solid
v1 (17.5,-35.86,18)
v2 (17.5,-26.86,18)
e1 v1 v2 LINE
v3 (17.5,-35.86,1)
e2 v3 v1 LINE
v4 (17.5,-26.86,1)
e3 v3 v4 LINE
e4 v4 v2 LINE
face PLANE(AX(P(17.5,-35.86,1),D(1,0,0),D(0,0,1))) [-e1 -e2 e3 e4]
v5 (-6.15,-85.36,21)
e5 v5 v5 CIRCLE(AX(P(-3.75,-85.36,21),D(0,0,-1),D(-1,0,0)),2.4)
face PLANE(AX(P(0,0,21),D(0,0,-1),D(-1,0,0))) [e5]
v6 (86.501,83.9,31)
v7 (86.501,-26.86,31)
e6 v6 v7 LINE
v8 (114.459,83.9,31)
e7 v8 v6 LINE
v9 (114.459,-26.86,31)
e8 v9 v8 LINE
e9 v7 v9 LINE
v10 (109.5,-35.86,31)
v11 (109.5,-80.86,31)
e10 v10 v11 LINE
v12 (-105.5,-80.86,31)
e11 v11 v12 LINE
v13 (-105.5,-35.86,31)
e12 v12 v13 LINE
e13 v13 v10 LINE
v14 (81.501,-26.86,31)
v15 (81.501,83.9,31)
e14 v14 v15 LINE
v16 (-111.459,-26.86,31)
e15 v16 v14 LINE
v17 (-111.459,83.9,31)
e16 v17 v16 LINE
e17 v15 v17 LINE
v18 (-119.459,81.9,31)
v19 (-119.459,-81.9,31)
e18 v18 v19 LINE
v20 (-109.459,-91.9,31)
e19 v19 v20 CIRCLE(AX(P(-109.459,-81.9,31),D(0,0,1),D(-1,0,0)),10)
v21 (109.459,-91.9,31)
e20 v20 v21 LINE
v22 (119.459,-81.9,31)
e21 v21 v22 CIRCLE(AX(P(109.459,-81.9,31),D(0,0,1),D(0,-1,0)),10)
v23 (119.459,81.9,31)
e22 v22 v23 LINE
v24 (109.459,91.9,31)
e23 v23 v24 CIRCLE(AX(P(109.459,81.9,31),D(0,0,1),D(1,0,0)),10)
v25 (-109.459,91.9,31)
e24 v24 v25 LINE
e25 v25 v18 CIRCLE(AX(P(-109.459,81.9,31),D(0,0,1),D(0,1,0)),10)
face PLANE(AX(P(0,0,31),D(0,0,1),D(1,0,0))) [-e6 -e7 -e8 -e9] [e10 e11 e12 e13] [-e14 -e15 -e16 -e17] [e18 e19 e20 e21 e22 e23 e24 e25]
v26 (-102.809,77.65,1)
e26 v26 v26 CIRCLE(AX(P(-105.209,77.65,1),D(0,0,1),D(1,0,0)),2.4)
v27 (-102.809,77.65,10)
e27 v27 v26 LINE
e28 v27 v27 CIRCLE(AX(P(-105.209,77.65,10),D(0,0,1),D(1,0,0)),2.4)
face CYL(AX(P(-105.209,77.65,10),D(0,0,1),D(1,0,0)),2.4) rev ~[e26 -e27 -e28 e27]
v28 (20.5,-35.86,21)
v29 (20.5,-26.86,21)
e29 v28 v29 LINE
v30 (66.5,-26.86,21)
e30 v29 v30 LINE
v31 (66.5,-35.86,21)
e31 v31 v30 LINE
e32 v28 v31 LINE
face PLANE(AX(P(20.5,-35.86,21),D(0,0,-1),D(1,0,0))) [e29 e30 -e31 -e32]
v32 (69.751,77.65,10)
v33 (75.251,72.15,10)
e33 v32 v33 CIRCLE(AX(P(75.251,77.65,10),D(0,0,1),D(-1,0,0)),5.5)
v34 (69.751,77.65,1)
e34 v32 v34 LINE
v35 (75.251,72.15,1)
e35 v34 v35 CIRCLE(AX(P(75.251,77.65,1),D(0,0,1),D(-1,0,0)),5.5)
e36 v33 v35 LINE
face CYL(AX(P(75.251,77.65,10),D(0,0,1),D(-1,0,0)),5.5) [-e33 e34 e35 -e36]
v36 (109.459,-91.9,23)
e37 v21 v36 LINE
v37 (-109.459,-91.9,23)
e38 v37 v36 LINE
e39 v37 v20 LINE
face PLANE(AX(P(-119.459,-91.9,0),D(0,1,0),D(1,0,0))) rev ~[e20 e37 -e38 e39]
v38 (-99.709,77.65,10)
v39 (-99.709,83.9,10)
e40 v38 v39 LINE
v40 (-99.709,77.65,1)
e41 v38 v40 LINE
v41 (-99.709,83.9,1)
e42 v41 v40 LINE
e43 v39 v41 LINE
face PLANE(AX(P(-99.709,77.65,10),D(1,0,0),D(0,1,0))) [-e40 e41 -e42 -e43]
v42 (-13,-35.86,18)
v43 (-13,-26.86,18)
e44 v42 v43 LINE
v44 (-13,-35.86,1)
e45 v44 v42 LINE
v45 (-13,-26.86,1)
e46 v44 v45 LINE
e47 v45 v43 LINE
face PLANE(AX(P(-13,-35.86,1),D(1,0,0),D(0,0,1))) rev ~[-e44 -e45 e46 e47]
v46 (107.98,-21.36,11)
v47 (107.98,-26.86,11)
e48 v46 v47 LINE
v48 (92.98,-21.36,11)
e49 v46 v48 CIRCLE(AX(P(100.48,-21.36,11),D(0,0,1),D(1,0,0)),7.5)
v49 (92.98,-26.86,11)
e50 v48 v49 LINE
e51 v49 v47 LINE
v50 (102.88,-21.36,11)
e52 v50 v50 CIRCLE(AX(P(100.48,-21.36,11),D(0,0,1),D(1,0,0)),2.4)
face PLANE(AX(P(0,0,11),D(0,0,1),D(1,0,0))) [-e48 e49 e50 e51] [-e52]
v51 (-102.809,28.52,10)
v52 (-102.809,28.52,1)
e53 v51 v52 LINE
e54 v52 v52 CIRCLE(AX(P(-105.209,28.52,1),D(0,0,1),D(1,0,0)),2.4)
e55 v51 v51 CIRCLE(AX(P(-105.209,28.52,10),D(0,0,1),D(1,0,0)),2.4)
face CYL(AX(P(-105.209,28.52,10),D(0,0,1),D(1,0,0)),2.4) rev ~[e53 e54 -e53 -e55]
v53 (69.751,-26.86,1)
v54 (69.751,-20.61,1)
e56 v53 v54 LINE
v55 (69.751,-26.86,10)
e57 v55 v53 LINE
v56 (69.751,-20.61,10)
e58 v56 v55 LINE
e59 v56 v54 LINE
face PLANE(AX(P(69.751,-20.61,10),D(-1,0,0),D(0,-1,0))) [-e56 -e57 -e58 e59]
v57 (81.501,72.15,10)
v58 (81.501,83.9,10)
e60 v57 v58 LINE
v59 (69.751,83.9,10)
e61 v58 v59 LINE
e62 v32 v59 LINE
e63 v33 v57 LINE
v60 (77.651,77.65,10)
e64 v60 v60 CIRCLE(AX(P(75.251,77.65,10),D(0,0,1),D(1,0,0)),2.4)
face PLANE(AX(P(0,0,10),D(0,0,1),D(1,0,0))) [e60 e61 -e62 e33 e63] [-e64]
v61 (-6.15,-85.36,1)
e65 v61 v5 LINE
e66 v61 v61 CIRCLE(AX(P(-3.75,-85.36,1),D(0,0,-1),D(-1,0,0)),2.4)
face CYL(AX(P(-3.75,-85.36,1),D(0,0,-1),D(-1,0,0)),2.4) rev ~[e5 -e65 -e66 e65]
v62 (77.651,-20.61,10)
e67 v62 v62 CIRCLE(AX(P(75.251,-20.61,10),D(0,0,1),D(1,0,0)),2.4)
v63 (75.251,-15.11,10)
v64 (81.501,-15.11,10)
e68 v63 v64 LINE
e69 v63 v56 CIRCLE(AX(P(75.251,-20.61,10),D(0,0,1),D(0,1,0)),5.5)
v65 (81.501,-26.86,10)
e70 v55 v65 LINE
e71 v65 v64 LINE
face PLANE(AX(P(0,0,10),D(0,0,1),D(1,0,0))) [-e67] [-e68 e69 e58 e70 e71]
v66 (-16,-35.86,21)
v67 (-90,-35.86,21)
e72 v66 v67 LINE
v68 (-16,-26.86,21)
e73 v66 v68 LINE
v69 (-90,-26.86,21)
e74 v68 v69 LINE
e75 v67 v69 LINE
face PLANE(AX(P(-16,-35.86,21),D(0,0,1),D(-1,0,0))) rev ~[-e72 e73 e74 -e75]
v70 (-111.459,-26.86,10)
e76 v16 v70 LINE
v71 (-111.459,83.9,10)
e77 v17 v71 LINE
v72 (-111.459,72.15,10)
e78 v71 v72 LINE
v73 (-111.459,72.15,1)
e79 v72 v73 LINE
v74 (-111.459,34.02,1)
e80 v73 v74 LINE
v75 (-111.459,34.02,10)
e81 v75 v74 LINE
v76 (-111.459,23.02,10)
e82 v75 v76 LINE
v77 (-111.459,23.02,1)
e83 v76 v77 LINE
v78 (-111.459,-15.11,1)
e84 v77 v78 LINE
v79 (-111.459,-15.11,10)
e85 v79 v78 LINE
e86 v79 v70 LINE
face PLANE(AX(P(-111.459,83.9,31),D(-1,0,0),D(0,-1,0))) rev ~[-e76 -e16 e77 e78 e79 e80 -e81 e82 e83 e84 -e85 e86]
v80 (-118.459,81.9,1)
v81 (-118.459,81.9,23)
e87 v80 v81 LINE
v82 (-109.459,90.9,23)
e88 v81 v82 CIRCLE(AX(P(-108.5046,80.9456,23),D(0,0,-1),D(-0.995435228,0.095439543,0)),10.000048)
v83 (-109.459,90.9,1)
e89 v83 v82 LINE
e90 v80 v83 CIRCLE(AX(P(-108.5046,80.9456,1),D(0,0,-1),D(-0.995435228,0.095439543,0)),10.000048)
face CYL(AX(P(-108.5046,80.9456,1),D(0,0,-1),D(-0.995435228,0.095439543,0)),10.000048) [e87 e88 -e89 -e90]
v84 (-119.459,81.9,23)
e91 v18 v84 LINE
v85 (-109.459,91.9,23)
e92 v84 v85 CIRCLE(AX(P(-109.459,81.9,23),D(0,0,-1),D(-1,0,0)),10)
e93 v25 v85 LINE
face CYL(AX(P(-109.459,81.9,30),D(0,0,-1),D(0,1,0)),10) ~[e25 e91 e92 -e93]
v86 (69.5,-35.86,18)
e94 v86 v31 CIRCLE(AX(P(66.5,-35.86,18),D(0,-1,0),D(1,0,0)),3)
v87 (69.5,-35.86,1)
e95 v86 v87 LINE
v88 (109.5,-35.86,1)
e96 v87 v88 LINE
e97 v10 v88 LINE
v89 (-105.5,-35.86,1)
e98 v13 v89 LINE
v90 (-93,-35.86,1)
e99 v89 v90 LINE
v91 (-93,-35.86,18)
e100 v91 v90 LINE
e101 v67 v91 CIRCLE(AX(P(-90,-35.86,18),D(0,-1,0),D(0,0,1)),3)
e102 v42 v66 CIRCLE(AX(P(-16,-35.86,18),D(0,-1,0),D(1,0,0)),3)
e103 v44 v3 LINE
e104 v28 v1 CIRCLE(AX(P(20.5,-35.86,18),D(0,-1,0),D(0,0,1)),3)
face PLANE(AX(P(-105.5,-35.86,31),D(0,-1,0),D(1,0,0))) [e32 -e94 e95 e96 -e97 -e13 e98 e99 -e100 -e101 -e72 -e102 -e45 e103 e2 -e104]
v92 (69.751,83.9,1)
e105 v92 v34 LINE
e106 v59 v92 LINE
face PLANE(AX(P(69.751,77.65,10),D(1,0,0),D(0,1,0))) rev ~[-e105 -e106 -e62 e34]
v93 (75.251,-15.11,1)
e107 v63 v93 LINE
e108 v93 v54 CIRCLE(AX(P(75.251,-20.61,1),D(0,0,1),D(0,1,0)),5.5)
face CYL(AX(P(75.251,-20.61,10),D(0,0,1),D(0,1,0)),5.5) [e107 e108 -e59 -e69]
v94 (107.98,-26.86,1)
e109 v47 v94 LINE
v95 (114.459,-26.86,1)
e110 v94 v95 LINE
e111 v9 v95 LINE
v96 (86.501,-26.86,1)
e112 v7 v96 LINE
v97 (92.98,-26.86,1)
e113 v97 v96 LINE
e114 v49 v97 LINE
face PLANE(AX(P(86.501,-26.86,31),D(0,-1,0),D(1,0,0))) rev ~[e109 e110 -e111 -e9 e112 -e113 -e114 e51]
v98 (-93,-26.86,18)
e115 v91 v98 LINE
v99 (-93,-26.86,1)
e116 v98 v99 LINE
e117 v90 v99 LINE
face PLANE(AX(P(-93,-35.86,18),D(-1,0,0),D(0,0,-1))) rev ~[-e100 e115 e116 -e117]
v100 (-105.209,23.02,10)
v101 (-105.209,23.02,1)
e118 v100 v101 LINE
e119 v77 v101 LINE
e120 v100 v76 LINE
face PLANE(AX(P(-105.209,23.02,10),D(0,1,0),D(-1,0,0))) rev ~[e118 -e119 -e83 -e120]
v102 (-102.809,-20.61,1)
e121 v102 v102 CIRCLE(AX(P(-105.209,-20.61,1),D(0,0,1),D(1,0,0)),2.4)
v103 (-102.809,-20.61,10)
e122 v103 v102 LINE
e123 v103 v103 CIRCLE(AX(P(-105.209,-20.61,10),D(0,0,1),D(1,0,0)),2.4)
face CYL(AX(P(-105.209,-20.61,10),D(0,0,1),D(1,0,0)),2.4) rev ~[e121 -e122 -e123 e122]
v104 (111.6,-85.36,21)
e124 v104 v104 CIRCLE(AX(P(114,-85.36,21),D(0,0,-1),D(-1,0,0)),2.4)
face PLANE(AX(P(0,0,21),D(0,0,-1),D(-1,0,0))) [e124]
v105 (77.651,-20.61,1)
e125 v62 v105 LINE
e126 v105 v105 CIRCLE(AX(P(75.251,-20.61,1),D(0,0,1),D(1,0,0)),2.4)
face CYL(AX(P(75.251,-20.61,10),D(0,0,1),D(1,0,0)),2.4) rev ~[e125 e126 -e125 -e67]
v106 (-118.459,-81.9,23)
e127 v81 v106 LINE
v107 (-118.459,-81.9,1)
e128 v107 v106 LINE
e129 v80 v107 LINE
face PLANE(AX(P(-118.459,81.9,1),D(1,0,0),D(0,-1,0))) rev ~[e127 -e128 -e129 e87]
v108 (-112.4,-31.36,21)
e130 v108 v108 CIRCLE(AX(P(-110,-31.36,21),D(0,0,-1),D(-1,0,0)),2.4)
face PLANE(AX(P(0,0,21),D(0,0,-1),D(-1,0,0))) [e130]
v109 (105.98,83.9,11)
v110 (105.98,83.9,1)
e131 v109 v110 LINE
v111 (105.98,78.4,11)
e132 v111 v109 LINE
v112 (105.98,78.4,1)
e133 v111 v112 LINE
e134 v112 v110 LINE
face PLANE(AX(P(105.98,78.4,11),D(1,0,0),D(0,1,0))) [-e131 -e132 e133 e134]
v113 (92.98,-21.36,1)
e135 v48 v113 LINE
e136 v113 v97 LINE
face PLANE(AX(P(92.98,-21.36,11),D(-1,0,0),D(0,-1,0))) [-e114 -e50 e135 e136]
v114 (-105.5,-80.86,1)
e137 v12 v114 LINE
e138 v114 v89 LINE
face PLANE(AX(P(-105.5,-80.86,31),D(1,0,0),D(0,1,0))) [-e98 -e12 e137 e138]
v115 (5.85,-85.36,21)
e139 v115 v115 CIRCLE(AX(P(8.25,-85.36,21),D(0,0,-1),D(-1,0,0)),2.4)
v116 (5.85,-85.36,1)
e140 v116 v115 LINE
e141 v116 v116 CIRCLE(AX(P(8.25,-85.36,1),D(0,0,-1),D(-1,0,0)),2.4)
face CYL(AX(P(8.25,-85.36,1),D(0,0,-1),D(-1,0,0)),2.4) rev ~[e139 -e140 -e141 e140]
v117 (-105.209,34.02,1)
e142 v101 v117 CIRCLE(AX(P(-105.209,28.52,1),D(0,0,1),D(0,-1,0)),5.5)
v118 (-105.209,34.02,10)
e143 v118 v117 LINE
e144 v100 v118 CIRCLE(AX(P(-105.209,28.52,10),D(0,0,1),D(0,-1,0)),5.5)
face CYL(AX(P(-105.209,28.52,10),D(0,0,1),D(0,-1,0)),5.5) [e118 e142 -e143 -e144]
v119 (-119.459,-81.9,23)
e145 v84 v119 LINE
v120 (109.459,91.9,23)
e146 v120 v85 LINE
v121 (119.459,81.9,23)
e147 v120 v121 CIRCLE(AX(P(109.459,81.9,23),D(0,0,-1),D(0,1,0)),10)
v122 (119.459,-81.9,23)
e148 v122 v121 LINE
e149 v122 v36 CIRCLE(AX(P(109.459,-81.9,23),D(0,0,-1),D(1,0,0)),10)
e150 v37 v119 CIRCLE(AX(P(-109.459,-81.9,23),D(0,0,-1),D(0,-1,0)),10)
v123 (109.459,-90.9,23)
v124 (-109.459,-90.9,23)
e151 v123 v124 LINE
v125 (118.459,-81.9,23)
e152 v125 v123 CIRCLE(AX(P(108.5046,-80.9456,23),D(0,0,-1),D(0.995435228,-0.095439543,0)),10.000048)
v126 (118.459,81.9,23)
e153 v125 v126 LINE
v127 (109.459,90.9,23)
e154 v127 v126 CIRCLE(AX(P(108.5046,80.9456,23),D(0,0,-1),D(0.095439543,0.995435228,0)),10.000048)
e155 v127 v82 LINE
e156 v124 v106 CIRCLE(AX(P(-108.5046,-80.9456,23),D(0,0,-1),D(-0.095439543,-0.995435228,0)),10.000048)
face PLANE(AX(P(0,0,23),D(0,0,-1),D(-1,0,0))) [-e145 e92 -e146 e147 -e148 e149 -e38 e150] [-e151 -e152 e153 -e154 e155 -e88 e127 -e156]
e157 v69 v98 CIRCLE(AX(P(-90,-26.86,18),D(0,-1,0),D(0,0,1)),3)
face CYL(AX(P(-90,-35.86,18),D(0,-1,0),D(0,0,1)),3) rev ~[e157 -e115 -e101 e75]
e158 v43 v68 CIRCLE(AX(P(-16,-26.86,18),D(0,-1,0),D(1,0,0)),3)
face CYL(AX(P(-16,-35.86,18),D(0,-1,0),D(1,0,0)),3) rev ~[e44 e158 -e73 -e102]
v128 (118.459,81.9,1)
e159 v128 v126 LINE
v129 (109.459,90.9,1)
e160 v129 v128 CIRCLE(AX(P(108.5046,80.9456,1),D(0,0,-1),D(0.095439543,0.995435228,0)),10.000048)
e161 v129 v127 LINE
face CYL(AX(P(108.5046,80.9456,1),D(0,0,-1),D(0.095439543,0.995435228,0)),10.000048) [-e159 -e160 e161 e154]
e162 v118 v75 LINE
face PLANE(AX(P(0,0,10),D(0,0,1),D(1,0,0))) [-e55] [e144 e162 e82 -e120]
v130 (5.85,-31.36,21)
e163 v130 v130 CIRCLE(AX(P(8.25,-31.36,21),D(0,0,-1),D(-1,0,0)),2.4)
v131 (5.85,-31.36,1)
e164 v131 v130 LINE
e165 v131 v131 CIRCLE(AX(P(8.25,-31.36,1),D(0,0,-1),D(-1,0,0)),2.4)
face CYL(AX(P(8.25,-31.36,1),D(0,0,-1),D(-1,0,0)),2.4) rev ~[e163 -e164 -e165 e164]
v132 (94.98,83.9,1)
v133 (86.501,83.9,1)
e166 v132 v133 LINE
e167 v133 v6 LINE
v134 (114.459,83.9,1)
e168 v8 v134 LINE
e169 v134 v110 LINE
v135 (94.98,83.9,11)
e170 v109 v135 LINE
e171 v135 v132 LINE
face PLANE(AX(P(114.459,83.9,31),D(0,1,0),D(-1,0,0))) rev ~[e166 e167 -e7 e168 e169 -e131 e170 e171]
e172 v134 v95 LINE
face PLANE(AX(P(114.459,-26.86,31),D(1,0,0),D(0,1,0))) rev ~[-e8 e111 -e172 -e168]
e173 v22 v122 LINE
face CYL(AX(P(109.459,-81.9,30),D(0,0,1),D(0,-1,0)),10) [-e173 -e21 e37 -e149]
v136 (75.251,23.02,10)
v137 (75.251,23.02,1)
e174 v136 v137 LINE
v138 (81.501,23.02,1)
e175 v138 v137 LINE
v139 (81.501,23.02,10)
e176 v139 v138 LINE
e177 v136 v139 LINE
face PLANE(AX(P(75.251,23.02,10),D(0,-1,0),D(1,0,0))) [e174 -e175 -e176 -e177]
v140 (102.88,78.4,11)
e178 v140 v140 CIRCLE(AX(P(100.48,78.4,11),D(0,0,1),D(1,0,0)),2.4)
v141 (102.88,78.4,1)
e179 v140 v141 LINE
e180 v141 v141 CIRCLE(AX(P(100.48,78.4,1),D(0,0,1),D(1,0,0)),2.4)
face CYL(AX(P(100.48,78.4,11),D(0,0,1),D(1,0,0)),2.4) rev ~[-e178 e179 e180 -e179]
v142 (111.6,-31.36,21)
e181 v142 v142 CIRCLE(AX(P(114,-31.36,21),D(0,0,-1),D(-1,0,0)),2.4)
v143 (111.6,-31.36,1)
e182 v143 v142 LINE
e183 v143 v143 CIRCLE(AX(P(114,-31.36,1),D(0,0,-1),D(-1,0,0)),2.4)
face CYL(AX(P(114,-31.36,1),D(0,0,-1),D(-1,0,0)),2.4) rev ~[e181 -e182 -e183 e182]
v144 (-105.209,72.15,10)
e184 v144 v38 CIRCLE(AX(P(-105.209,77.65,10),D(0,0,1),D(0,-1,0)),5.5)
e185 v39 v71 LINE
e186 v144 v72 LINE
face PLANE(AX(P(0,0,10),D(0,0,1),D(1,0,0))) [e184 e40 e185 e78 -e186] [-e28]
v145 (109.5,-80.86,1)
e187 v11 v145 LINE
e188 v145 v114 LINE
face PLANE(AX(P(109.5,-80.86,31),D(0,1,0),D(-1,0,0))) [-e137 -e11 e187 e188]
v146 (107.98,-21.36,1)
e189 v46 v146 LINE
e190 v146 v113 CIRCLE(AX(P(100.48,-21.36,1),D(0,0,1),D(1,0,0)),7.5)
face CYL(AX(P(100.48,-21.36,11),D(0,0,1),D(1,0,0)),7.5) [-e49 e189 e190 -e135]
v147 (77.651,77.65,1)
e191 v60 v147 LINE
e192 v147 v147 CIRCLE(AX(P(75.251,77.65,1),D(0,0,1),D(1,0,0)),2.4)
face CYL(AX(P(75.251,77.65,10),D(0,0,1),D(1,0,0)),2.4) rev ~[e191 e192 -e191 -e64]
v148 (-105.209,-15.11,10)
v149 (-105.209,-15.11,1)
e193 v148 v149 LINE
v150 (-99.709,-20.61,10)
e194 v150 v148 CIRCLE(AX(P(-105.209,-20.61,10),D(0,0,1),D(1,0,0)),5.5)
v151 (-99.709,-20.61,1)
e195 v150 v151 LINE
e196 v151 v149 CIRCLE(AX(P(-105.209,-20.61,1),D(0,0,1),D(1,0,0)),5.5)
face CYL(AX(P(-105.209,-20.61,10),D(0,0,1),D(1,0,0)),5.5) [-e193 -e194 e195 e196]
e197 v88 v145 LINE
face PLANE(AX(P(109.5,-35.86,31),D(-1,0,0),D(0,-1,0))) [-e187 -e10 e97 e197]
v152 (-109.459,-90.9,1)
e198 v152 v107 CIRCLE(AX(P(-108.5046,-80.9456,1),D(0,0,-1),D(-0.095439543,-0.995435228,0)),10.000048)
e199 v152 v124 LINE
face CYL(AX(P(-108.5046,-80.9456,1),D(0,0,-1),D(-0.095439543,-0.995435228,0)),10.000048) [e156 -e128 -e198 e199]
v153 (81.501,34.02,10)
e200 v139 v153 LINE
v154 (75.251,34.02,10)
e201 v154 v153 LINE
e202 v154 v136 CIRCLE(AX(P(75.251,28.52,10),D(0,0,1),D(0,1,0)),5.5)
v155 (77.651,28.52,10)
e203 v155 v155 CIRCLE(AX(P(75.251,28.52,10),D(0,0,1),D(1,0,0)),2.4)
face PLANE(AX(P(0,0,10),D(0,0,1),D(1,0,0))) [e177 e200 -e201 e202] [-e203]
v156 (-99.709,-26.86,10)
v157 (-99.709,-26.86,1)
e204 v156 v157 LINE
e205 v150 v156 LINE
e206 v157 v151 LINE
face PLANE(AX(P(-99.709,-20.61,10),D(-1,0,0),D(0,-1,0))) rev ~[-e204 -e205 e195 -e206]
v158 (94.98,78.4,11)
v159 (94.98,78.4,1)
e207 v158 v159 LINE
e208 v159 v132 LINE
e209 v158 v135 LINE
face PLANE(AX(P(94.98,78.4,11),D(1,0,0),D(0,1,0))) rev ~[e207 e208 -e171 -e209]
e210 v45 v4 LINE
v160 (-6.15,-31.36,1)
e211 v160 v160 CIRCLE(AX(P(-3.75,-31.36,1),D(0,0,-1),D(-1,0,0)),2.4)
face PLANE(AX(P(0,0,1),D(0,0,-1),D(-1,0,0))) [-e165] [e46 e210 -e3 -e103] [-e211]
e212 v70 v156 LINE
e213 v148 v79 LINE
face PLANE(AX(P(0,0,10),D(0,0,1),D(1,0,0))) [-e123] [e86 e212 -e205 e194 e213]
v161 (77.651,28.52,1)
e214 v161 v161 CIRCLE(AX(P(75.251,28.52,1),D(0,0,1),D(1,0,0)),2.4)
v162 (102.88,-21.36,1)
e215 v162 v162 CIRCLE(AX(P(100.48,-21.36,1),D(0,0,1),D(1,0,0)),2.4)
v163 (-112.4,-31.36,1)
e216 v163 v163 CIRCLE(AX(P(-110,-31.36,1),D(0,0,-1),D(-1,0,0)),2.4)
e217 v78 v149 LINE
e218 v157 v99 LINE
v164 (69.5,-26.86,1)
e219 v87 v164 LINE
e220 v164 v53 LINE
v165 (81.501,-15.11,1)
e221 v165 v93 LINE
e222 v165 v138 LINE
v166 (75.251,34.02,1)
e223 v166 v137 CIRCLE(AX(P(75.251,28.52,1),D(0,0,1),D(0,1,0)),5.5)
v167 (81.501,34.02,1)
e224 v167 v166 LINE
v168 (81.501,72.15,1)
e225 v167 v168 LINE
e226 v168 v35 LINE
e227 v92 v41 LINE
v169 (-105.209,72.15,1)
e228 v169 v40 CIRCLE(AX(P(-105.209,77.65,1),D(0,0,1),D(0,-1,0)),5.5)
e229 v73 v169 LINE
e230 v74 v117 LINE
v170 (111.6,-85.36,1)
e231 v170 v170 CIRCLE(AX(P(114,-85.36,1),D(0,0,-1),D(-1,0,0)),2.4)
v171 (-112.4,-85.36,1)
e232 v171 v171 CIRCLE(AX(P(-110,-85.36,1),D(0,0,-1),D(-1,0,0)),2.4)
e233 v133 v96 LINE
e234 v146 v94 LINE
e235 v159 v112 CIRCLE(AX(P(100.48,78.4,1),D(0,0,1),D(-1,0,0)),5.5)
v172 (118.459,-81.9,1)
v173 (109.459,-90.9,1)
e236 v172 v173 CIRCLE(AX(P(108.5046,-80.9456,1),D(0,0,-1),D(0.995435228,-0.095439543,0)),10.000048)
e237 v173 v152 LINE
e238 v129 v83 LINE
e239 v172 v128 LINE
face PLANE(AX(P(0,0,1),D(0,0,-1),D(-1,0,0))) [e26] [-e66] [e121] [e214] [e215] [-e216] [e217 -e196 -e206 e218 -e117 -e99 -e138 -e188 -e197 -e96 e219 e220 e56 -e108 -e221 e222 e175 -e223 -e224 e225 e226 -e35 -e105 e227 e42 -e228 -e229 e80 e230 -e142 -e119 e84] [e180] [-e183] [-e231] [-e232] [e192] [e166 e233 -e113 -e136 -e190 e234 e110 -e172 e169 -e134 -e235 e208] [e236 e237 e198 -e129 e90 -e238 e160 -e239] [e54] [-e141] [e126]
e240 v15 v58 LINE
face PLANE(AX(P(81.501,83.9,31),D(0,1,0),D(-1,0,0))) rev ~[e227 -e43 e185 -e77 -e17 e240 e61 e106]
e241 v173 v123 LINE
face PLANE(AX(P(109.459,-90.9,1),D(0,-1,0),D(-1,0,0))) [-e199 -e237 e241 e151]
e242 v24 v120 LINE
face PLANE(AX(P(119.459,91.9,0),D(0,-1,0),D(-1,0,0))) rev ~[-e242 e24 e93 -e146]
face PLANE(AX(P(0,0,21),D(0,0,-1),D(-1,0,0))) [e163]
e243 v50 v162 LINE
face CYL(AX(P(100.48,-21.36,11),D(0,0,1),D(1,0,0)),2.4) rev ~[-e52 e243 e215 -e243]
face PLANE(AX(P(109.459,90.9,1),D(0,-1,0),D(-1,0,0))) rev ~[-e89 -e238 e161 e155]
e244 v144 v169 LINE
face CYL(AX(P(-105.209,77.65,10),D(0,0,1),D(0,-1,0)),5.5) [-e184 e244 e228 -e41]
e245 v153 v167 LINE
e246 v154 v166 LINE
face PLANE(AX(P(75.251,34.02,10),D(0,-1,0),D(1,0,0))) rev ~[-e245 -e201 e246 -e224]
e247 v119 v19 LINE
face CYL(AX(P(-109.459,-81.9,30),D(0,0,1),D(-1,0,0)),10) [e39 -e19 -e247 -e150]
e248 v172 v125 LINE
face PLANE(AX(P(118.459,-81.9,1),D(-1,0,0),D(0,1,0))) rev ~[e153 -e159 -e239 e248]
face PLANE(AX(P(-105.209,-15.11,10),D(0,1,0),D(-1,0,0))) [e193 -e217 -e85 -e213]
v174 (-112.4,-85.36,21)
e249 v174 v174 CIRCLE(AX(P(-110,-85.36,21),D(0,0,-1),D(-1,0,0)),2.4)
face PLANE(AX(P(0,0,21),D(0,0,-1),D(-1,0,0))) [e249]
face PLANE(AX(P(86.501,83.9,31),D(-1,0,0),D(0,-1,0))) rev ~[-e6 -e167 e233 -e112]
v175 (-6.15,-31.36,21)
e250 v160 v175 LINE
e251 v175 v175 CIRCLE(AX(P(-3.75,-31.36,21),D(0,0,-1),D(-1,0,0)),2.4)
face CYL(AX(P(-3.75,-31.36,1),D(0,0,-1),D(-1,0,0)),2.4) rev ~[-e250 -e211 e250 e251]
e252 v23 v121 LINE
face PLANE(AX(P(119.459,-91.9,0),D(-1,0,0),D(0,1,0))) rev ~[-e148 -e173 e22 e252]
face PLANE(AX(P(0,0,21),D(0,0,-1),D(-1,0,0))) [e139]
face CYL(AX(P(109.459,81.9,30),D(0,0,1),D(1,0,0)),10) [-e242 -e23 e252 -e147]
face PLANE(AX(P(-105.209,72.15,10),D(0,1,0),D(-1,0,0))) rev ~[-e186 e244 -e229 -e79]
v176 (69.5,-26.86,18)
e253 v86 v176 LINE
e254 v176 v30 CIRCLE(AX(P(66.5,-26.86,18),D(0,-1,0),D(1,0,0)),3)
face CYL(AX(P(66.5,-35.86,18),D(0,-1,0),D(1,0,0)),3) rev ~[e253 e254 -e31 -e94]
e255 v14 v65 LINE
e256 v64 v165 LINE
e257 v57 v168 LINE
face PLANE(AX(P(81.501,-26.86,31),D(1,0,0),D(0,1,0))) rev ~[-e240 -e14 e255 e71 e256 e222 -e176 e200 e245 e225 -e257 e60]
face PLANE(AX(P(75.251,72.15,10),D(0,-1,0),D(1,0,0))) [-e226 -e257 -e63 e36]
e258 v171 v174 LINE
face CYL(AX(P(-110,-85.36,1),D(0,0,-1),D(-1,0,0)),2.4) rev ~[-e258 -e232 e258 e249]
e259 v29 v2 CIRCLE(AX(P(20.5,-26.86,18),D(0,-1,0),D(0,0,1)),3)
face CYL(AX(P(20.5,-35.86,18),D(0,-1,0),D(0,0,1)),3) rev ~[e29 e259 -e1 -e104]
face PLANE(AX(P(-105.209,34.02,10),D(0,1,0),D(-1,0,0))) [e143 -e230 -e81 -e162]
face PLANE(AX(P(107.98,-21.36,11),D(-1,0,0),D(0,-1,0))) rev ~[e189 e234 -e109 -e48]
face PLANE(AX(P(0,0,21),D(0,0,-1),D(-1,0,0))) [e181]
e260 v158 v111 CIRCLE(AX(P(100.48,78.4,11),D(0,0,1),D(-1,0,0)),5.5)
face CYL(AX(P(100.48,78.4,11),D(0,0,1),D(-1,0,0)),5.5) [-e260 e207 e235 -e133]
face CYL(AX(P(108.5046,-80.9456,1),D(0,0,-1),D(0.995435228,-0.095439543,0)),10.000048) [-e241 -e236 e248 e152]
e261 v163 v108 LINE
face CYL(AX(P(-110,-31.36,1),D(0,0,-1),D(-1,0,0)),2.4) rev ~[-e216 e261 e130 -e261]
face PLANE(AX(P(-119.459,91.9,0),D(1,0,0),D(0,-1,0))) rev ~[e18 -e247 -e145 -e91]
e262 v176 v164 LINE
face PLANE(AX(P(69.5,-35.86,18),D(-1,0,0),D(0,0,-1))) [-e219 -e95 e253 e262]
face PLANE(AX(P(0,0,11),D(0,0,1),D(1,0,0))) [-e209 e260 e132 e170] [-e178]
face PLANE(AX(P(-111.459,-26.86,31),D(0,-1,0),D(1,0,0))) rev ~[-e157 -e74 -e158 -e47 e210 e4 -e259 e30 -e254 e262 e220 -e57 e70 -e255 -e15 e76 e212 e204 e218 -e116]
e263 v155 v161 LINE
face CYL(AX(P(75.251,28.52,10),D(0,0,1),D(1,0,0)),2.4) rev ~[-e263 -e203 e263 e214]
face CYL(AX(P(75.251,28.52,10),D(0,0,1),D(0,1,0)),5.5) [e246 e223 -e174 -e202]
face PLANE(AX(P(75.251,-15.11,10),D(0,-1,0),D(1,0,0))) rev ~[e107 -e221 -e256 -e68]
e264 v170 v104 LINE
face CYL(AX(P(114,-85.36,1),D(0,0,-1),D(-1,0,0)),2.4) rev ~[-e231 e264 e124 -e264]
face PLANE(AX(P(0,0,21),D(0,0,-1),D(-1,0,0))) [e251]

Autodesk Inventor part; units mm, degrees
ref_plane "YZ Plane" through (0, 0, 0) normal (1, 0, 0) x (0, 1, 0)
ref_plane "XZ Plane" through (0, 0, 0) normal (0, 1, 0) x (-1, 0, 0)
ref_plane "XY Plane" through (0, 0, 0) normal (0, 0, 1) x (1, 0, 0)
sketch "Sketch1" plane through (0, 0, 0) normal (0, 0, 1) x (1, 0, 0)
  line L0 (-119.459, -91.9) -> (119.459, -91.9)
  line L1 (119.459, -91.9) -> (119.459, 91.9)
  line L2 (119.459, 91.9) -> (-119.459, 91.9)
  line L3 (-119.459, 91.9) -> (-119.459, -91.9)
  line L4 (-119.459, -91.9) -> (119.459, 91.9) construction
  line L5 (119.459, -91.9) -> (-119.459, 91.9) construction
  point P0 (0, 0)
  dimension "d0" = 238.918
  dimension "d1" = 183.8
extrude "Extrusion1" add sketch "Sketch1" along normal blind 30
sketch "Sketch2" plane through (0, 0, 30) normal (0, 0, 1) x (1, 0, 0)
  arc A0 (-109.459, 91.9) -> (-119.459, 81.9) centre (-109.459, 81.9) ccw
  line L0 (119.459, 91.9) -> (-119.459, 91.9) projected
  line L1 (-119.459, 91.9) -> (-119.459, -91.9) projected
  line L2 (-119.459, 81.9) -> (-119.459, 91.9)
  line L3 (-109.459, 91.9) -> (-119.459, 91.9)
  arc A1 (-119.459, -81.9) -> (-109.459, -91.9) centre (-109.459, -81.9) ccw
  line L4 (-119.459, -91.9) -> (119.459, -91.9) projected
  line L5 (-119.459, -81.9) -> (-119.459, -91.9)
  line L6 (-109.459, -91.9) -> (-119.459, -91.9)
  arc A2 (109.459, -91.9) -> (119.459, -81.9) centre (109.459, -81.9) ccw
  line L7 (119.459, -91.9) -> (119.459, 91.9) projected
  line L8 (109.459, -91.9) -> (119.459, -91.9)
  line L9 (119.459, -81.9) -> (119.459, -91.9)
  arc A3 (119.459, 81.9) -> (109.459, 91.9) centre (109.459, 81.9) ccw
  line L10 (109.459, 91.9) -> (119.459, 91.9)
  line L11 (119.459, 81.9) -> (119.459, 91.9)
  point P0 (0, 0)
  dimension "d4" = 20
  dimension "d5" = 20
  dimension "d6" = 20
  dimension "d7" = 20
extrude "Extrusion2" add sketch "Sketch2" along normal blind 1 contours L0 A3 L7 A2 L4 A1 L1 A0
sketch "Sketch3" plane through (0, 0, 30) normal (0, 0, 1) x (1, 0, 0)
  line L0 (-119.459, -81.9) -> (-119.459, -91.9) projected
  arc A0 (-119.459, -81.9) -> (-109.459, -91.9) centre (-109.459, -81.9) ccw projected
  arc A1 (-119.459, -81.9) -> (-109.459, -91.9) centre (-109.459, -81.9) ccw
  line L1 (-119.459, -81.9) -> (-119.459, -91.9)
  line L2 (-119.459, -91.9) -> (-109.459, -91.9) projected
  line L3 (-109.459, -91.9) -> (-119.459, -91.9)
  arc A2 (-109.459, 91.9) -> (-119.459, 81.9) centre (-109.459, 81.9) ccw projected
  line L4 (-119.459, 81.9) -> (-119.459, -81.9) projected
  arc A3 (-109.459, 91.9) -> (-119.459, 81.9) centre (-109.459, 81.9) ccw
  line L5 (-119.459, 91.9) -> (-119.459, -91.9) projected
  line L6 (-119.459, 81.9) -> (-119.459, 91.9)
  line L7 (-119.459, 91.9) -> (-109.459, 91.9)
  arc A4 (119.459, 81.9) -> (109.459, 91.9) centre (109.459, 81.9) ccw projected
  arc A5 (119.459, 81.9) -> (109.459, 91.9) centre (109.459, 81.9) ccw
  line L8 (119.459, 81.9) -> (119.459, 91.9) projected
  line L9 (109.459, 91.9) -> (119.459, 91.9)
  line L10 (119.459, 91.9) -> (119.459, 81.9)
  arc A6 (109.459, -91.9) -> (119.459, -81.9) centre (109.459, -81.9) ccw projected
  arc A7 (109.459, -91.9) -> (119.459, -81.9) centre (109.459, -81.9) ccw
  line L11 (119.459, -91.9) -> (119.459, -81.9) projected
  line L12 (119.459, -81.9) -> (119.459, -91.9)
  line L13 (119.459, -91.9) -> (109.459, -91.9)
  point P0 (0, 0)
extrude "Extrusion3" cut sketch "Sketch3" against normal blind 30
sketch "Sketch4" plane through (0, 0, 31) normal (0, 0, 1) x (1, 0, 0)
  line L0 (-111.459, -26.86) -> (81.501, -26.86)
  line L1 (81.501, -26.86) -> (81.501, 83.9)
  line L2 (81.501, 83.9) -> (-111.459, 83.9)
  line L3 (-111.459, 83.9) -> (-111.459, -26.86)
  line L4 (-111.459, -26.86) -> (81.501, 83.9) construction
  line L5 (81.501, -26.86) -> (-111.459, 83.9) construction
  line L6 (109.459, 91.9) -> (-109.459, 91.9) projected
  line L7 (-119.459, 81.9) -> (-119.459, -81.9) projected
  point P0 (0, 0)
  point P1 (-14.979, 28.52)
  dimension "d12" = 192.96
  dimension "d13" = 110.76
  dimension "d14" = 8
  dimension "d15" = 8
extrude "Extrusion4" cut sketch "Sketch4" against normal blind 21
sketch "Sketch5" plane through (0, 0, 0) normal (0, 0, -1) x (-1, 0, 0)
  arc A0 (-109.459, 91.9) -> (-119.459, 81.9) centre (-109.459, 81.9) ccw projected
  arc A1 (-109.459, 91.9) -> (-119.459, 81.9) centre (-109.459, 81.9) ccw
  arc A2 (119.459, 81.9) -> (109.459, 91.9) centre (109.459, 81.9) ccw projected
  arc A3 (119.459, 81.9) -> (109.459, 91.9) centre (109.459, 81.9) ccw
  arc A4 (109.459, -91.9) -> (119.459, -81.9) centre (109.459, -81.9) ccw projected
  arc A5 (109.459, -91.9) -> (119.459, -81.9) centre (109.459, -81.9) ccw
  arc A6 (-119.459, -81.9) -> (-109.459, -91.9) centre (-109.459, -81.9) ccw projected
  arc A7 (-119.459, -81.9) -> (-109.459, -91.9) centre (-109.459, -81.9) ccw
  line L0 (-119.459, -91.9) -> (-119.459, 81.9) projected
  line L1 (-119.459, 81.9) -> (-119.459, -81.9)
  line L2 (109.459, -91.9) -> (-119.459, -91.9) projected
  line L3 (-109.459, -91.9) -> (109.459, -91.9)
  line L4 (119.459, 91.9) -> (119.459, -81.9) projected
  line L5 (119.459, -81.9) -> (119.459, 81.9)
  line L6 (-109.459, 91.9) -> (119.459, 91.9) projected
  line L7 (-109.459, 91.9) -> (109.459, 91.9)
  point P0 (0, 0)
extrude "Extrusion5" cut sketch "Sketch5" against normal blind 1 contours L6 A2 L4 A4 L2 A6 L0 A0
sketch "Sketch6" plane through (0, 0, 1) normal (0, 0, -1) x (-1, 0, 0)
  arc A0 (109.459, -91.9) -> (119.459, -81.9) centre (109.459, -81.9) ccw construction
  line L0 (119.459, -81.9) -> (118.459, -81.9) construction
  line L1 (109.459, -91.9) -> (109.459, -90.9) construction
  arc A1 (109.459, -90.9) -> (118.459, -81.9) centre (108.5046, -80.9456) ccw
  arc A2 (119.459, 81.9) -> (109.459, 91.9) centre (109.459, 81.9) ccw construction
  line L2 (119.459, 81.9) -> (118.459, 81.9) construction
  line L3 (109.459, 91.9) -> (109.459, 90.9) construction
  arc A3 (118.459, 81.9) -> (109.459, 90.9) centre (108.5046, 80.9456) ccw
  line L4 (119.459, 81.9) -> (119.459, -81.9) projected
  line L5 (118.459, 81.9) -> (118.459, -81.9)
  line L6 (-109.459, 91.9) -> (109.459, 91.9) construction
  line L7 (-109.459, 91.9) -> (-109.459, 90.9) construction
  line L8 (-119.459, 81.9) -> (-118.459, 81.9) construction
  arc A4 (-109.459, 90.9) -> (-118.459, 81.9) centre (-108.5046, 80.9456) ccw
  line L9 (-109.459, 90.9) -> (109.459, 90.9)
  arc A5 (-119.459, -81.9) -> (-109.459, -91.9) centre (-109.459, -81.9) ccw construction
  line L10 (-119.459, -81.9) -> (-118.459, -81.9) construction
  line L11 (109.459, -91.9) -> (-109.459, -91.9) construction
  line L12 (-109.459, -91.9) -> (-109.459, -90.9) construction
  arc A6 (-118.459, -81.9) -> (-109.459, -90.9) centre (-108.5046, -80.9456) ccw
  line L13 (-118.459, -81.9) -> (-118.459, 81.9)
  line L14 (-109.459, -90.9) -> (109.459, -90.9)
  arc A7 (-119.459, -81.9) -> (-109.459, -91.9) centre (-109.459, -81.9) ccw
  line L15 (-119.459, -81.9) -> (-119.459, 81.9) projected
  line L16 (-119.459, -81.9) -> (-119.459, 81.9)
  arc A8 (-109.459, 91.9) -> (-119.459, 81.9) centre (-109.459, 81.9) ccw
  line L17 (-109.459, 91.9) -> (109.459, 91.9)
  arc A9 (119.459, 81.9) -> (109.459, 91.9) centre (109.459, 81.9) ccw
  line L18 (119.459, 81.9) -> (119.459, -81.9)
  arc A10 (109.459, -91.9) -> (119.459, -81.9) centre (109.459, -81.9) ccw
  line L19 (109.459, -91.9) -> (-109.459, -91.9)
  point P0 (0, 0)
  dimension "d20" = 1
  dimension "d21" = 1
  dimension "d22" = 10
  dimension "d23" = 1
  dimension "d24" = 1
  dimension "d25" = 10
  dimension "d26" = 1
  dimension "d27" = 1
  dimension "d28" = 10
  dimension "d29" = 1
  dimension "d30" = 1
  dimension "d31" = 10
extrude "Extrusion6" cut sketch "Sketch6" against normal blind 22
sketch "Sketch8" plane through (0, 0, 10) normal (0, 0, 1) x (1, 0, 0)
  arc A0 (-105.209, 72.15) -> (-99.709, 77.65) centre (-105.209, 77.65) ccw
  line L0 (-111.459, 83.9) -> (81.501, 83.9) projected
  line L1 (-111.459, -26.86) -> (-111.459, 83.9) projected
  line L2 (-105.209, 77.65) -> (-99.709, 77.65) construction
  line L3 (-105.209, 77.65) -> (-105.209, 72.15) construction
  line L4 (-99.709, 77.65) -> (-99.709, 83.9)
  line L5 (-105.209, 72.15) -> (-111.459, 72.15)
  line L6 (-111.459, -26.86) -> (-111.459, 83.9) projected
  circle A1 centre (-105.209, 77.65) radius 2.4
  arc A2 (69.751, 77.65) -> (75.251, 72.15) centre (75.251, 77.65) ccw
  line L7 (81.501, 83.9) -> (81.501, -26.86) projected
  line L8 (75.251, 77.65) -> (75.251, 72.15) construction
  line L9 (75.251, 77.65) -> (69.751, 77.65) construction
  line L10 (69.751, 77.65) -> (69.751, 83.9)
  line L11 (75.251, 72.15) -> (81.501, 72.15)
  circle A3 centre (75.251, 77.65) radius 2.4
  arc A4 (75.251, -15.11) -> (69.751, -20.61) centre (75.251, -20.61) ccw
  line L12 (81.501, -26.86) -> (-111.459, -26.86) projected
  line L13 (75.251, -20.61) -> (75.251, -15.11) construction
  line L14 (75.251, -20.61) -> (69.751, -20.61) construction
  line L15 (75.251, -15.11) -> (81.501, -15.11)
  line L16 (69.751, -20.61) -> (69.751, -26.86)
  line L17 (81.501, -26.86) -> (-111.459, -26.86) projected
  circle A5 centre (75.251, -20.61) radius 2.4
  arc A6 (-99.709, -20.61) -> (-105.209, -15.11) centre (-105.209, -20.61) ccw
  line L18 (-105.209, -20.61) -> (-99.709, -20.61) construction
  line L19 (-105.209, -20.61) -> (-105.209, -15.11) construction
  line L20 (-105.209, -15.11) -> (-111.459, -15.11)
  line L21 (-99.709, -20.61) -> (-99.709, -26.86)
  circle A7 centre (-105.209, -20.61) radius 2.4
  arc A8 (-105.209, 23.02) -> (-105.209, 34.02) centre (-105.209, 28.52) ccw
  line L22 (-105.209, 28.52) -> (-105.209, 34.02) construction
  line L23 (-105.209, 28.52) -> (-105.209, 23.02) construction
  line L24 (-105.209, 34.02) -> (-111.459, 34.02)
  line L25 (-105.209, 23.02) -> (-111.459, 23.02)
  circle A9 centre (-105.209, 28.52) radius 2.4
  arc A10 (75.251, 34.02) -> (75.251, 23.02) centre (75.251, 28.52) ccw
  line L26 (75.251, 28.52) -> (75.251, 34.02) construction
  line L27 (75.251, 28.52) -> (75.251, 23.02) construction
  line L28 (75.251, 23.02) -> (81.501, 23.02)
  line L29 (75.251, 34.02) -> (81.501, 34.02)
  circle A11 centre (75.251, 28.52) radius 2.4
  line L30 (-99.709, 83.9) -> (69.751, 83.9)
  line L31 (81.501, 72.15) -> (81.501, 34.02)
  line L32 (81.501, -15.11) -> (81.501, 23.02)
  line L33 (69.751, -26.86) -> (-99.709, -26.86)
  line L34 (-111.459, -15.11) -> (-111.459, 23.02)
  line L35 (-111.459, 34.02) -> (-111.459, 72.15)
  line L36 (-111.459, 34.02) -> (-111.459, 23.02)
  line L37 (-111.459, 72.15) -> (-111.459, 83.9)
  line L38 (-99.709, 83.9) -> (-111.459, 83.9)
  line L39 (-111.459, -15.11) -> (-111.459, -26.86)
  line L40 (-111.459, -26.86) -> (-99.709, -26.86)
  line L41 (69.751, -26.86) -> (81.501, -26.86)
  line L42 (81.501, -15.11) -> (81.501, -26.86)
  line L43 (81.501, 23.02) -> (81.501, 34.02)
  line L44 (81.501, 72.15) -> (81.501, 83.9)
  line L45 (81.501, 83.9) -> (69.751, 83.9)
  line L46 (-14.979, 83.9) -> (-14.979, -26.86)
  point P0 (0, 0)
  dimension "d45" = 11
  dimension "d46" = 6.25
  dimension "d47" = 6.25
  dimension "d48" = 4.8
  dimension "d49" = 11
  dimension "d50" = 6.25
  dimension "d51" = 6.25
  dimension "d52" = 4.8
  dimension "d53" = 11
  dimension "d54" = 6.25
  dimension "d55" = 6.25
  dimension "d56" = 4.8
  dimension "d57" = 11
  dimension "d58" = 6.25
  dimension "d59" = 6.25
  dimension "d60" = 4.8
  dimension "d61" = 11
  dimension "d62" = 49.13
  dimension "d63" = 6.25
  dimension "d64" = 49.13
  dimension "d65" = 98.26
  dimension "d66" = 4.8
  dimension "d67" = 11
  dimension "d68" = 6.25
  dimension "d69" = 49.13
  dimension "d70" = 4.8
  dimension "d71" = 49.13
extrude "Extrusion7" cut sketch "Sketch8" against normal blind 10 contours A0 L4 L0 L46 L12 L21 A6 L20 L1 L25 A8 L24 L5 | L0 L10 A2 L11 L7 L29 A10 L28 L15 A4 L16 L12 L46
sketch "Sketch9" plane through (0, 0, 10) normal (0, 0, 1) x (1, 0, 0)
  arc A0 (-105.209, 23.02) -> (-105.209, 34.02) centre (-105.209, 28.52) ccw projected
  circle A1 centre (-105.209, 28.52) radius 2.4
  arc A2 (-105.209, 72.15) -> (-99.709, 77.65) centre (-105.209, 77.65) ccw projected
  circle A3 centre (-105.209, 77.65) radius 2.4
  arc A4 (-99.709, -20.61) -> (-105.209, -15.11) centre (-105.209, -20.61) ccw projected
  circle A5 centre (-105.209, -20.61) radius 2.4
  arc A6 (75.251, -15.11) -> (69.751, -20.61) centre (75.251, -20.61) ccw projected
  circle A7 centre (75.251, -20.61) radius 2.4
  arc A8 (75.251, 34.02) -> (75.251, 23.02) centre (75.251, 28.52) ccw projected
  circle A9 centre (75.251, 28.52) radius 2.4
  arc A10 (69.751, 77.65) -> (75.251, 72.15) centre (75.251, 77.65) ccw projected
  circle A11 centre (75.251, 77.65) radius 2.4
  point P0 (0, 0)
  dimension "d74" = 4.8
  dimension "d75" = 4.8
  dimension "d76" = 4.8
  dimension "d77" = 4.8
  dimension "d78" = 4.8
  dimension "d79" = 4.8
extrude "Extrusion8" cut sketch "Sketch9" against normal blind 10
sketch "Sketch10" plane through (0, 0, 31) normal (0, 0, 1) x (1, 0, 0)
  line L0 (-105.5, -35.86) -> (109.5, -35.86)
  line L1 (109.5, -35.86) -> (109.5, -80.86)
  line L2 (109.5, -80.86) -> (-105.5, -80.86)
  line L3 (-105.5, -80.86) -> (-105.5, -35.86)
  line L4 (81.501, -26.86) -> (-111.459, -26.86) projected
  line L5 (-109.459, -91.9) -> (109.459, -91.9) projected
  line L6 (-119.459, 81.9) -> (-119.459, -81.9) projected
  line L7 (119.459, -81.9) -> (119.459, 81.9) projected
  point P0 (0, 0)
  dimension "d82" = 215
  dimension "d83" = 45
  dimension "d84" = 9
  dimension "d85" = 11.04
  dimension "d86" = 13.959
  dimension "d87" = 9.959
extrude "Extrusion9" cut sketch "Sketch10" against normal blind 30
sketch "Sketch11" plane through (0, 0, 1) normal (0, 0, -1) x (-1, 0, 0)
  line L0 (-109.5, -35.86) -> (105.5, -35.86) construction
  line L1 (-109.5, -35.86) -> (-69.5, -35.86) construction
  line L2 (99.709, -26.86) -> (-69.751, -26.86) projected
  line L3 (-69.5, -35.86) -> (-17.5, -35.86)
  line L4 (-17.5, -35.86) -> (-17.5, -26.86)
  line L5 (-17.5, -26.86) -> (-69.5, -26.86)
  line L6 (-69.5, -26.86) -> (-69.5, -35.86)
  line L7 (-17.5, -26.86) -> (13, -26.86)
  line L8 (13, -26.86) -> (13, -35.86)
  line L9 (13, -35.86) -> (-17.5, -35.86)
  line L10 (-17.5, -35.86) -> (-17.5, -26.86)
  line L11 (13, -26.86) -> (93, -26.86)
  line L12 (93, -26.86) -> (93, -35.86)
  line L13 (93, -35.86) -> (13, -35.86)
  line L14 (13, -35.86) -> (13, -26.86)
  line L15 (-17.5, -31.36) -> (13, -31.36) construction
  circle A0 centre (-8.25, -31.36) radius 2.4
  circle A1 centre (3.75, -31.36) radius 2.4
  line L16 (-109.5, -35.86) -> (-109.5, -26.86) construction
  line L17 (-109.5, -26.86) -> (-118.459, -26.86) construction
  line L18 (-118.459, 81.9) -> (-118.459, -81.9) construction
  line L19 (-109.5, -35.86) -> (-122.459, -35.86) construction
  circle A2 centre (-114, -31.36) radius 2.4
  line L20 (-109.5, -80.86) -> (-109.5, -35.86) projected
  circle A3 centre (-114, -85.36) radius 2.4
  line L21 (105.5, -80.86) -> (-109.5, -80.86) projected
  circle A4 centre (110, -31.36) radius 2.4
  line L22 (105.5, -35.86) -> (105.5, -80.86) projected
  circle A5 centre (110, -85.36) radius 2.4
  line L23 (110, -85.36) -> (-114, -85.36) construction
  line L24 (-8.25, -31.36) -> (-8.25, -85.36) construction
  line L25 (3.75, -31.36) -> (3.75, -85.36) construction
  circle A6 centre (-8.25, -85.36) radius 2.4
  circle A7 centre (3.75, -85.36) radius 2.4
  point P0 (0, 0)
  dimension "d90" = 40
  dimension "d91" = 52
  dimension "d92" = 30.5
  dimension "d93" = 80
  dimension "d94" = 4.8
  dimension "d95" = 4.8
  dimension "d96" = 9.25
  dimension "d97" = 9.25
  dimension "d98" = 12
  dimension "d120" = 4.5
  dimension "d121" = 9
  dimension "d122" = 4.8
  dimension "d123" = 4.5
  dimension "d124" = 4.5
  dimension "d125" = 4.8
  dimension "d126" = 4.5
  dimension "d127" = 4.5
  dimension "d128" = 4.8
  dimension "d129" = 4.5
  dimension "d130" = 4.5
  dimension "d131" = 4.8
  dimension "d132" = 4.5
  dimension "d133" = 4.5
  dimension "d134" = 4.8
  dimension "d135" = 4.8
extrude "Extrusion10" cut sketch "Sketch11" against normal blind 20 contours A0 | A1 | A2 | A3 | A4 | A5 | A6 | A7
sketch "Sketch12" plane through (-105.5, -35.86, 31) normal (0, -1, 0) x (1, 0, 0)
  line L0 (215, -30) -> (0, -30) construction
  line L1 (215, -30) -> (175, -30) construction
  line L2 (175.251, -21) -> (175.251, -30) construction
  line L3 (175, -30) -> (123, -30)
  line L4 (123, -30) -> (123, -13)
  line L5 (126, -10) -> (172, -10)
  line L6 (175, -13) -> (175, -30)
  line L7 (123, -30) -> (92.5, -30)
  line L8 (92.5, -30) -> (92.5, -13)
  line L9 (92.5, -10) -> (123, -10)
  line L10 (123, -13) -> (123, -30)
  line L11 (89.5, -10) -> (15.5, -10)
  line L12 (12.5, -13) -> (12.5, -30)
  line L13 (12.5, -30) -> (92.5, -30)
  line L14 (92.5, -30) -> (92.5, -13)
  line L15 (0, 0) -> (215, 0) projected
  arc A0 (175, -13) -> (172, -10) centre (172, -13) ccw
  arc A1 (126, -10) -> (123, -13) centre (126, -13) ccw
  arc A2 (92.5, -13) -> (89.5, -10) centre (89.5, -13) ccw
  line L16 (92.5, -10) -> (89.5, -10) construction
  arc A3 (15.5, -10) -> (12.5, -13) centre (15.5, -13) ccw
  point P0 (105.5, -31)
  dimension "d101" = 40
  dimension "d102" = 52
  dimension "d103" = 30.5
  dimension "d104" = 80
  dimension "d105" = 10
  dimension "d106" = 6
  dimension "d107" = 6
  dimension "d108" = 6
  dimension "d109" = 10
  dimension "d110" = 6
extrude "Extrusion11" cut sketch "Sketch12" against normal blind 20
sketch "Sketch17" plane through (0, 0, 31) normal (0, 0, 1) x (1, 0, 0)
  line L0 (86.501, -26.86) -> (114.459, -26.86)
  line L1 (114.459, -26.86) -> (114.459, 83.9)
  line L2 (114.459, 83.9) -> (86.501, 83.9)
  line L3 (86.501, 83.9) -> (86.501, -26.86)
  line L4 (81.501, 83.9) -> (81.501, -26.86) projected
  line L5 (119.459, -81.9) -> (119.459, 81.9) projected
  line L6 (109.459, 91.9) -> (-109.459, 91.9) projected
  line L7 (-105.5, -35.86) -> (109.5, -35.86) projected
  point P0 (0, 0)
  dimension "d148" = 5
  dimension "d149" = 5
  dimension "d150" = 8
  dimension "d151" = 9
  dimension "d167" = 27.958
  dimension "d168" = 110.76
extrude "Extrusion14" cut sketch "Sketch17" against normal blind 20
sketch "Sketch18" plane through (0, 0, 11) normal (0, 0, 1) x (1, 0, 0)
  line L0 (114.459, -26.86) -> (86.501, -26.86) construction
  line L1 (100.48, -26.86) -> (100.48, -21.36) construction
  arc A0 (107.98, -21.36) -> (92.98, -21.36) centre (100.48, -21.36) ccw
  line L2 (107.98, -21.36) -> (107.98, -26.86)
  line L3 (92.98, -21.36) -> (92.98, -26.86)
  line L4 (86.501, 83.9) -> (114.459, 83.9) construction
  line L5 (100.48, 83.9) -> (100.48, 78.4) construction
  arc A1 (94.98, 78.4) -> (105.98, 78.4) centre (100.48, 78.4) ccw
  line L6 (105.98, 78.4) -> (105.98, 83.9)
  line L7 (94.98, 78.4) -> (94.98, 83.9)
  line L8 (94.98, 83.9) -> (86.501, 83.9)
  line L9 (86.501, 83.9) -> (86.501, -26.86)
  line L10 (92.98, -26.86) -> (86.501, -26.86)
  line L11 (114.459, 83.9) -> (114.459, -26.86) projected
  line L12 (107.98, -26.86) -> (114.459, -26.86)
  line L13 (114.459, -26.86) -> (114.459, 83.9)
  line L14 (114.459, 83.9) -> (105.98, 83.9)
  point P0 (0, 0)
  dimension "d154" = 5.5
  dimension "d155" = 5.5
extrude "Extrusion15" cut sketch "Sketch18" against normal blind 10
sketch "Sketch19" plane through (0, 0, 11) normal (0, 0, 1) x (1, 0, 0)
  arc A0 (107.98, -21.36) -> (92.98, -21.36) centre (100.48, -21.36) ccw projected
  circle A1 centre (100.48, -21.36) radius 2.4
  arc A2 (94.98, 78.4) -> (105.98, 78.4) centre (100.48, 78.4) ccw projected
  circle A3 centre (100.48, 78.4) radius 2.4
  line L0 (100.48, -21.36) -> (100.48, 78.4) construction
  line L1 (100.48, -21.36) -> (114.459, -21.36) construction
  line L2 (114.459, 83.9) -> (114.459, -26.86) construction
  line L3 (86.501, 83.9) -> (114.459, 83.9) construction
  line L4 (114.459, 83.9) -> (114.459, -26.86) construction
  point P0 (0, 0)
  dimension "d158" = 4.8
  dimension "d159" = 4.8
  dimension "d164" = 99.76
  dimension "d165" = 13.979
  dimension "d166" = 110.76
extrude "Extrusion16" cut sketch "Sketch19" against normal blind 10
sketch "Sketch22" plane through (0, 0, 1) normal (0, 0, -1) x (-1, 0, 0)
  circle A0 centre (-8.25, -31.36) radius 2.4 construction
  circle A1 centre (3.75, -31.36) radius 2.4 construction
  line L0 (-8.25, -31.36) -> (3.75, -31.36) construction
  circle A2 centre (-8.25, -85.36) radius 2.4 construction
  circle A3 centre (3.75, -85.36) radius 2.4 construction
  line L1 (-8.25, -85.36) -> (3.75, -85.36) construction
  line L2 (3.75, -85.36) -> (3.75, -31.36) construction
  circle A4 centre (110, -85.36) radius 2.4 construction
  circle A5 centre (-114, -85.36) radius 2.4 construction
  line L3 (110, -85.36) -> (-114, -85.36) construction
  circle A6 centre (-114, -31.36) radius 2.4 construction
  line L4 (-114, -85.36) -> (-114, -31.36) construction
  line L5 (-114, -31.36) -> (-8.25, -31.36) construction
  circle A7 centre (110, -31.36) radius 2.4 construction
  line L6 (3.75, -31.36) -> (110, -31.36) construction
  circle A8 centre (-8.25, -31.36) radius 4.5 construction
  line L7 (-81.501, -26.86) -> (111.459, -26.86) construction
  circle A9 centre (110, -31.36) radius 4.5 construction
  circle A10 centre (-114, -31.36) radius 4.5 construction
  circle A11 centre (3.75, -85.36) radius 4.5 construction
  line L8 (-118.459, 81.9) -> (-118.459, -81.9) construction
  arc A12 (-118.459, -81.9) -> (-109.459, -90.9) centre (-108.5046, -80.9456) ccw construction
  arc A13 (-118.459, -81.9) -> (-109.459, -90.9) centre (-108.5046, -80.9456) ccw construction
  line L9 (-109.5, -80.86) -> (-109.5, -35.86) construction
  line L10 (109.459, -91.9) -> (-109.459, -91.9) construction
  line L11 (-109.5, -80.86) -> (-109.459, -90.9) construction
  circle A14 centre (110, -85.36) radius 4.5 construction
  line L12 (114.5, -85.36) -> (114.5, -31.36) construction
  line L13 (-109.4816, -85.36) -> (-114, -85.36) construction
  line L14 (-109.4816, -85.36) -> (-114, -85.36) construction
  line L15 (105.5, -35.86) -> (-109.5, -35.86) construction
  line L16 (105.5, -35.86) -> (-109.5, -35.86) construction
  line L17 (-109.5, -80.86) -> (105.5, -80.86) construction
  line L18 (105.5, -35.86) -> (105.5, -80.86) construction
  arc A15 (-118.459, -81.0246) -> (-109.459, -90.9) centre (-108.541, -81.0246) ccw construction
  line L19 (105.5, -80.86) -> (105.5, -90.9) construction
  line L20 (-109.459, -90.9) -> (109.459, -90.9) construction
  line L21 (105.5, -80.86) -> (118.459, -80.86) construction
  line L22 (118.459, -81.9) -> (118.459, 81.9) construction
  line L23 (118.459, -80.86) -> (118.459, -81.9) construction
  line L24 (105.5, -90.9) -> (109.459, -90.9) construction
  arc A16 (109.459, -90.9) -> (118.459, -81.9) centre (108.5046, -80.9456) ccw construction
  line L25 (118.459, -80.86) -> (118.459, -81.9) construction
  circle A17 centre (-114, -85.36) radius 4.5 construction
  line L26 (-109.5, -80.86) -> (-114, -80.86) construction
  point P0 (0, 0)
  dimension "d175" = 9
  dimension "d178" = 9
  dimension "d190" = 9
  dimension "d170" = 106.25
  dimension "d171" = 12
  dimension "d172" = 105.75
  dimension "d173" = 54
  dimension "d174" = 224
  dimension "d176" = 9
  dimension "d177" = 9
  dimension "d179" = 4.5
  dimension "d180" = 4.5184
  dimension "d181" = 9
  dimension "d182" = 215
  dimension "d183" = 45
  dimension "d184" = 8.959
  dimension "d185" = 4.8
  dimension "d186" = 10.04
  dimension "d187" = 8.959
  dimension "d188" = 10.04
  dimension "d189" = 12.959
properties part number "CyberDeckCover3"
